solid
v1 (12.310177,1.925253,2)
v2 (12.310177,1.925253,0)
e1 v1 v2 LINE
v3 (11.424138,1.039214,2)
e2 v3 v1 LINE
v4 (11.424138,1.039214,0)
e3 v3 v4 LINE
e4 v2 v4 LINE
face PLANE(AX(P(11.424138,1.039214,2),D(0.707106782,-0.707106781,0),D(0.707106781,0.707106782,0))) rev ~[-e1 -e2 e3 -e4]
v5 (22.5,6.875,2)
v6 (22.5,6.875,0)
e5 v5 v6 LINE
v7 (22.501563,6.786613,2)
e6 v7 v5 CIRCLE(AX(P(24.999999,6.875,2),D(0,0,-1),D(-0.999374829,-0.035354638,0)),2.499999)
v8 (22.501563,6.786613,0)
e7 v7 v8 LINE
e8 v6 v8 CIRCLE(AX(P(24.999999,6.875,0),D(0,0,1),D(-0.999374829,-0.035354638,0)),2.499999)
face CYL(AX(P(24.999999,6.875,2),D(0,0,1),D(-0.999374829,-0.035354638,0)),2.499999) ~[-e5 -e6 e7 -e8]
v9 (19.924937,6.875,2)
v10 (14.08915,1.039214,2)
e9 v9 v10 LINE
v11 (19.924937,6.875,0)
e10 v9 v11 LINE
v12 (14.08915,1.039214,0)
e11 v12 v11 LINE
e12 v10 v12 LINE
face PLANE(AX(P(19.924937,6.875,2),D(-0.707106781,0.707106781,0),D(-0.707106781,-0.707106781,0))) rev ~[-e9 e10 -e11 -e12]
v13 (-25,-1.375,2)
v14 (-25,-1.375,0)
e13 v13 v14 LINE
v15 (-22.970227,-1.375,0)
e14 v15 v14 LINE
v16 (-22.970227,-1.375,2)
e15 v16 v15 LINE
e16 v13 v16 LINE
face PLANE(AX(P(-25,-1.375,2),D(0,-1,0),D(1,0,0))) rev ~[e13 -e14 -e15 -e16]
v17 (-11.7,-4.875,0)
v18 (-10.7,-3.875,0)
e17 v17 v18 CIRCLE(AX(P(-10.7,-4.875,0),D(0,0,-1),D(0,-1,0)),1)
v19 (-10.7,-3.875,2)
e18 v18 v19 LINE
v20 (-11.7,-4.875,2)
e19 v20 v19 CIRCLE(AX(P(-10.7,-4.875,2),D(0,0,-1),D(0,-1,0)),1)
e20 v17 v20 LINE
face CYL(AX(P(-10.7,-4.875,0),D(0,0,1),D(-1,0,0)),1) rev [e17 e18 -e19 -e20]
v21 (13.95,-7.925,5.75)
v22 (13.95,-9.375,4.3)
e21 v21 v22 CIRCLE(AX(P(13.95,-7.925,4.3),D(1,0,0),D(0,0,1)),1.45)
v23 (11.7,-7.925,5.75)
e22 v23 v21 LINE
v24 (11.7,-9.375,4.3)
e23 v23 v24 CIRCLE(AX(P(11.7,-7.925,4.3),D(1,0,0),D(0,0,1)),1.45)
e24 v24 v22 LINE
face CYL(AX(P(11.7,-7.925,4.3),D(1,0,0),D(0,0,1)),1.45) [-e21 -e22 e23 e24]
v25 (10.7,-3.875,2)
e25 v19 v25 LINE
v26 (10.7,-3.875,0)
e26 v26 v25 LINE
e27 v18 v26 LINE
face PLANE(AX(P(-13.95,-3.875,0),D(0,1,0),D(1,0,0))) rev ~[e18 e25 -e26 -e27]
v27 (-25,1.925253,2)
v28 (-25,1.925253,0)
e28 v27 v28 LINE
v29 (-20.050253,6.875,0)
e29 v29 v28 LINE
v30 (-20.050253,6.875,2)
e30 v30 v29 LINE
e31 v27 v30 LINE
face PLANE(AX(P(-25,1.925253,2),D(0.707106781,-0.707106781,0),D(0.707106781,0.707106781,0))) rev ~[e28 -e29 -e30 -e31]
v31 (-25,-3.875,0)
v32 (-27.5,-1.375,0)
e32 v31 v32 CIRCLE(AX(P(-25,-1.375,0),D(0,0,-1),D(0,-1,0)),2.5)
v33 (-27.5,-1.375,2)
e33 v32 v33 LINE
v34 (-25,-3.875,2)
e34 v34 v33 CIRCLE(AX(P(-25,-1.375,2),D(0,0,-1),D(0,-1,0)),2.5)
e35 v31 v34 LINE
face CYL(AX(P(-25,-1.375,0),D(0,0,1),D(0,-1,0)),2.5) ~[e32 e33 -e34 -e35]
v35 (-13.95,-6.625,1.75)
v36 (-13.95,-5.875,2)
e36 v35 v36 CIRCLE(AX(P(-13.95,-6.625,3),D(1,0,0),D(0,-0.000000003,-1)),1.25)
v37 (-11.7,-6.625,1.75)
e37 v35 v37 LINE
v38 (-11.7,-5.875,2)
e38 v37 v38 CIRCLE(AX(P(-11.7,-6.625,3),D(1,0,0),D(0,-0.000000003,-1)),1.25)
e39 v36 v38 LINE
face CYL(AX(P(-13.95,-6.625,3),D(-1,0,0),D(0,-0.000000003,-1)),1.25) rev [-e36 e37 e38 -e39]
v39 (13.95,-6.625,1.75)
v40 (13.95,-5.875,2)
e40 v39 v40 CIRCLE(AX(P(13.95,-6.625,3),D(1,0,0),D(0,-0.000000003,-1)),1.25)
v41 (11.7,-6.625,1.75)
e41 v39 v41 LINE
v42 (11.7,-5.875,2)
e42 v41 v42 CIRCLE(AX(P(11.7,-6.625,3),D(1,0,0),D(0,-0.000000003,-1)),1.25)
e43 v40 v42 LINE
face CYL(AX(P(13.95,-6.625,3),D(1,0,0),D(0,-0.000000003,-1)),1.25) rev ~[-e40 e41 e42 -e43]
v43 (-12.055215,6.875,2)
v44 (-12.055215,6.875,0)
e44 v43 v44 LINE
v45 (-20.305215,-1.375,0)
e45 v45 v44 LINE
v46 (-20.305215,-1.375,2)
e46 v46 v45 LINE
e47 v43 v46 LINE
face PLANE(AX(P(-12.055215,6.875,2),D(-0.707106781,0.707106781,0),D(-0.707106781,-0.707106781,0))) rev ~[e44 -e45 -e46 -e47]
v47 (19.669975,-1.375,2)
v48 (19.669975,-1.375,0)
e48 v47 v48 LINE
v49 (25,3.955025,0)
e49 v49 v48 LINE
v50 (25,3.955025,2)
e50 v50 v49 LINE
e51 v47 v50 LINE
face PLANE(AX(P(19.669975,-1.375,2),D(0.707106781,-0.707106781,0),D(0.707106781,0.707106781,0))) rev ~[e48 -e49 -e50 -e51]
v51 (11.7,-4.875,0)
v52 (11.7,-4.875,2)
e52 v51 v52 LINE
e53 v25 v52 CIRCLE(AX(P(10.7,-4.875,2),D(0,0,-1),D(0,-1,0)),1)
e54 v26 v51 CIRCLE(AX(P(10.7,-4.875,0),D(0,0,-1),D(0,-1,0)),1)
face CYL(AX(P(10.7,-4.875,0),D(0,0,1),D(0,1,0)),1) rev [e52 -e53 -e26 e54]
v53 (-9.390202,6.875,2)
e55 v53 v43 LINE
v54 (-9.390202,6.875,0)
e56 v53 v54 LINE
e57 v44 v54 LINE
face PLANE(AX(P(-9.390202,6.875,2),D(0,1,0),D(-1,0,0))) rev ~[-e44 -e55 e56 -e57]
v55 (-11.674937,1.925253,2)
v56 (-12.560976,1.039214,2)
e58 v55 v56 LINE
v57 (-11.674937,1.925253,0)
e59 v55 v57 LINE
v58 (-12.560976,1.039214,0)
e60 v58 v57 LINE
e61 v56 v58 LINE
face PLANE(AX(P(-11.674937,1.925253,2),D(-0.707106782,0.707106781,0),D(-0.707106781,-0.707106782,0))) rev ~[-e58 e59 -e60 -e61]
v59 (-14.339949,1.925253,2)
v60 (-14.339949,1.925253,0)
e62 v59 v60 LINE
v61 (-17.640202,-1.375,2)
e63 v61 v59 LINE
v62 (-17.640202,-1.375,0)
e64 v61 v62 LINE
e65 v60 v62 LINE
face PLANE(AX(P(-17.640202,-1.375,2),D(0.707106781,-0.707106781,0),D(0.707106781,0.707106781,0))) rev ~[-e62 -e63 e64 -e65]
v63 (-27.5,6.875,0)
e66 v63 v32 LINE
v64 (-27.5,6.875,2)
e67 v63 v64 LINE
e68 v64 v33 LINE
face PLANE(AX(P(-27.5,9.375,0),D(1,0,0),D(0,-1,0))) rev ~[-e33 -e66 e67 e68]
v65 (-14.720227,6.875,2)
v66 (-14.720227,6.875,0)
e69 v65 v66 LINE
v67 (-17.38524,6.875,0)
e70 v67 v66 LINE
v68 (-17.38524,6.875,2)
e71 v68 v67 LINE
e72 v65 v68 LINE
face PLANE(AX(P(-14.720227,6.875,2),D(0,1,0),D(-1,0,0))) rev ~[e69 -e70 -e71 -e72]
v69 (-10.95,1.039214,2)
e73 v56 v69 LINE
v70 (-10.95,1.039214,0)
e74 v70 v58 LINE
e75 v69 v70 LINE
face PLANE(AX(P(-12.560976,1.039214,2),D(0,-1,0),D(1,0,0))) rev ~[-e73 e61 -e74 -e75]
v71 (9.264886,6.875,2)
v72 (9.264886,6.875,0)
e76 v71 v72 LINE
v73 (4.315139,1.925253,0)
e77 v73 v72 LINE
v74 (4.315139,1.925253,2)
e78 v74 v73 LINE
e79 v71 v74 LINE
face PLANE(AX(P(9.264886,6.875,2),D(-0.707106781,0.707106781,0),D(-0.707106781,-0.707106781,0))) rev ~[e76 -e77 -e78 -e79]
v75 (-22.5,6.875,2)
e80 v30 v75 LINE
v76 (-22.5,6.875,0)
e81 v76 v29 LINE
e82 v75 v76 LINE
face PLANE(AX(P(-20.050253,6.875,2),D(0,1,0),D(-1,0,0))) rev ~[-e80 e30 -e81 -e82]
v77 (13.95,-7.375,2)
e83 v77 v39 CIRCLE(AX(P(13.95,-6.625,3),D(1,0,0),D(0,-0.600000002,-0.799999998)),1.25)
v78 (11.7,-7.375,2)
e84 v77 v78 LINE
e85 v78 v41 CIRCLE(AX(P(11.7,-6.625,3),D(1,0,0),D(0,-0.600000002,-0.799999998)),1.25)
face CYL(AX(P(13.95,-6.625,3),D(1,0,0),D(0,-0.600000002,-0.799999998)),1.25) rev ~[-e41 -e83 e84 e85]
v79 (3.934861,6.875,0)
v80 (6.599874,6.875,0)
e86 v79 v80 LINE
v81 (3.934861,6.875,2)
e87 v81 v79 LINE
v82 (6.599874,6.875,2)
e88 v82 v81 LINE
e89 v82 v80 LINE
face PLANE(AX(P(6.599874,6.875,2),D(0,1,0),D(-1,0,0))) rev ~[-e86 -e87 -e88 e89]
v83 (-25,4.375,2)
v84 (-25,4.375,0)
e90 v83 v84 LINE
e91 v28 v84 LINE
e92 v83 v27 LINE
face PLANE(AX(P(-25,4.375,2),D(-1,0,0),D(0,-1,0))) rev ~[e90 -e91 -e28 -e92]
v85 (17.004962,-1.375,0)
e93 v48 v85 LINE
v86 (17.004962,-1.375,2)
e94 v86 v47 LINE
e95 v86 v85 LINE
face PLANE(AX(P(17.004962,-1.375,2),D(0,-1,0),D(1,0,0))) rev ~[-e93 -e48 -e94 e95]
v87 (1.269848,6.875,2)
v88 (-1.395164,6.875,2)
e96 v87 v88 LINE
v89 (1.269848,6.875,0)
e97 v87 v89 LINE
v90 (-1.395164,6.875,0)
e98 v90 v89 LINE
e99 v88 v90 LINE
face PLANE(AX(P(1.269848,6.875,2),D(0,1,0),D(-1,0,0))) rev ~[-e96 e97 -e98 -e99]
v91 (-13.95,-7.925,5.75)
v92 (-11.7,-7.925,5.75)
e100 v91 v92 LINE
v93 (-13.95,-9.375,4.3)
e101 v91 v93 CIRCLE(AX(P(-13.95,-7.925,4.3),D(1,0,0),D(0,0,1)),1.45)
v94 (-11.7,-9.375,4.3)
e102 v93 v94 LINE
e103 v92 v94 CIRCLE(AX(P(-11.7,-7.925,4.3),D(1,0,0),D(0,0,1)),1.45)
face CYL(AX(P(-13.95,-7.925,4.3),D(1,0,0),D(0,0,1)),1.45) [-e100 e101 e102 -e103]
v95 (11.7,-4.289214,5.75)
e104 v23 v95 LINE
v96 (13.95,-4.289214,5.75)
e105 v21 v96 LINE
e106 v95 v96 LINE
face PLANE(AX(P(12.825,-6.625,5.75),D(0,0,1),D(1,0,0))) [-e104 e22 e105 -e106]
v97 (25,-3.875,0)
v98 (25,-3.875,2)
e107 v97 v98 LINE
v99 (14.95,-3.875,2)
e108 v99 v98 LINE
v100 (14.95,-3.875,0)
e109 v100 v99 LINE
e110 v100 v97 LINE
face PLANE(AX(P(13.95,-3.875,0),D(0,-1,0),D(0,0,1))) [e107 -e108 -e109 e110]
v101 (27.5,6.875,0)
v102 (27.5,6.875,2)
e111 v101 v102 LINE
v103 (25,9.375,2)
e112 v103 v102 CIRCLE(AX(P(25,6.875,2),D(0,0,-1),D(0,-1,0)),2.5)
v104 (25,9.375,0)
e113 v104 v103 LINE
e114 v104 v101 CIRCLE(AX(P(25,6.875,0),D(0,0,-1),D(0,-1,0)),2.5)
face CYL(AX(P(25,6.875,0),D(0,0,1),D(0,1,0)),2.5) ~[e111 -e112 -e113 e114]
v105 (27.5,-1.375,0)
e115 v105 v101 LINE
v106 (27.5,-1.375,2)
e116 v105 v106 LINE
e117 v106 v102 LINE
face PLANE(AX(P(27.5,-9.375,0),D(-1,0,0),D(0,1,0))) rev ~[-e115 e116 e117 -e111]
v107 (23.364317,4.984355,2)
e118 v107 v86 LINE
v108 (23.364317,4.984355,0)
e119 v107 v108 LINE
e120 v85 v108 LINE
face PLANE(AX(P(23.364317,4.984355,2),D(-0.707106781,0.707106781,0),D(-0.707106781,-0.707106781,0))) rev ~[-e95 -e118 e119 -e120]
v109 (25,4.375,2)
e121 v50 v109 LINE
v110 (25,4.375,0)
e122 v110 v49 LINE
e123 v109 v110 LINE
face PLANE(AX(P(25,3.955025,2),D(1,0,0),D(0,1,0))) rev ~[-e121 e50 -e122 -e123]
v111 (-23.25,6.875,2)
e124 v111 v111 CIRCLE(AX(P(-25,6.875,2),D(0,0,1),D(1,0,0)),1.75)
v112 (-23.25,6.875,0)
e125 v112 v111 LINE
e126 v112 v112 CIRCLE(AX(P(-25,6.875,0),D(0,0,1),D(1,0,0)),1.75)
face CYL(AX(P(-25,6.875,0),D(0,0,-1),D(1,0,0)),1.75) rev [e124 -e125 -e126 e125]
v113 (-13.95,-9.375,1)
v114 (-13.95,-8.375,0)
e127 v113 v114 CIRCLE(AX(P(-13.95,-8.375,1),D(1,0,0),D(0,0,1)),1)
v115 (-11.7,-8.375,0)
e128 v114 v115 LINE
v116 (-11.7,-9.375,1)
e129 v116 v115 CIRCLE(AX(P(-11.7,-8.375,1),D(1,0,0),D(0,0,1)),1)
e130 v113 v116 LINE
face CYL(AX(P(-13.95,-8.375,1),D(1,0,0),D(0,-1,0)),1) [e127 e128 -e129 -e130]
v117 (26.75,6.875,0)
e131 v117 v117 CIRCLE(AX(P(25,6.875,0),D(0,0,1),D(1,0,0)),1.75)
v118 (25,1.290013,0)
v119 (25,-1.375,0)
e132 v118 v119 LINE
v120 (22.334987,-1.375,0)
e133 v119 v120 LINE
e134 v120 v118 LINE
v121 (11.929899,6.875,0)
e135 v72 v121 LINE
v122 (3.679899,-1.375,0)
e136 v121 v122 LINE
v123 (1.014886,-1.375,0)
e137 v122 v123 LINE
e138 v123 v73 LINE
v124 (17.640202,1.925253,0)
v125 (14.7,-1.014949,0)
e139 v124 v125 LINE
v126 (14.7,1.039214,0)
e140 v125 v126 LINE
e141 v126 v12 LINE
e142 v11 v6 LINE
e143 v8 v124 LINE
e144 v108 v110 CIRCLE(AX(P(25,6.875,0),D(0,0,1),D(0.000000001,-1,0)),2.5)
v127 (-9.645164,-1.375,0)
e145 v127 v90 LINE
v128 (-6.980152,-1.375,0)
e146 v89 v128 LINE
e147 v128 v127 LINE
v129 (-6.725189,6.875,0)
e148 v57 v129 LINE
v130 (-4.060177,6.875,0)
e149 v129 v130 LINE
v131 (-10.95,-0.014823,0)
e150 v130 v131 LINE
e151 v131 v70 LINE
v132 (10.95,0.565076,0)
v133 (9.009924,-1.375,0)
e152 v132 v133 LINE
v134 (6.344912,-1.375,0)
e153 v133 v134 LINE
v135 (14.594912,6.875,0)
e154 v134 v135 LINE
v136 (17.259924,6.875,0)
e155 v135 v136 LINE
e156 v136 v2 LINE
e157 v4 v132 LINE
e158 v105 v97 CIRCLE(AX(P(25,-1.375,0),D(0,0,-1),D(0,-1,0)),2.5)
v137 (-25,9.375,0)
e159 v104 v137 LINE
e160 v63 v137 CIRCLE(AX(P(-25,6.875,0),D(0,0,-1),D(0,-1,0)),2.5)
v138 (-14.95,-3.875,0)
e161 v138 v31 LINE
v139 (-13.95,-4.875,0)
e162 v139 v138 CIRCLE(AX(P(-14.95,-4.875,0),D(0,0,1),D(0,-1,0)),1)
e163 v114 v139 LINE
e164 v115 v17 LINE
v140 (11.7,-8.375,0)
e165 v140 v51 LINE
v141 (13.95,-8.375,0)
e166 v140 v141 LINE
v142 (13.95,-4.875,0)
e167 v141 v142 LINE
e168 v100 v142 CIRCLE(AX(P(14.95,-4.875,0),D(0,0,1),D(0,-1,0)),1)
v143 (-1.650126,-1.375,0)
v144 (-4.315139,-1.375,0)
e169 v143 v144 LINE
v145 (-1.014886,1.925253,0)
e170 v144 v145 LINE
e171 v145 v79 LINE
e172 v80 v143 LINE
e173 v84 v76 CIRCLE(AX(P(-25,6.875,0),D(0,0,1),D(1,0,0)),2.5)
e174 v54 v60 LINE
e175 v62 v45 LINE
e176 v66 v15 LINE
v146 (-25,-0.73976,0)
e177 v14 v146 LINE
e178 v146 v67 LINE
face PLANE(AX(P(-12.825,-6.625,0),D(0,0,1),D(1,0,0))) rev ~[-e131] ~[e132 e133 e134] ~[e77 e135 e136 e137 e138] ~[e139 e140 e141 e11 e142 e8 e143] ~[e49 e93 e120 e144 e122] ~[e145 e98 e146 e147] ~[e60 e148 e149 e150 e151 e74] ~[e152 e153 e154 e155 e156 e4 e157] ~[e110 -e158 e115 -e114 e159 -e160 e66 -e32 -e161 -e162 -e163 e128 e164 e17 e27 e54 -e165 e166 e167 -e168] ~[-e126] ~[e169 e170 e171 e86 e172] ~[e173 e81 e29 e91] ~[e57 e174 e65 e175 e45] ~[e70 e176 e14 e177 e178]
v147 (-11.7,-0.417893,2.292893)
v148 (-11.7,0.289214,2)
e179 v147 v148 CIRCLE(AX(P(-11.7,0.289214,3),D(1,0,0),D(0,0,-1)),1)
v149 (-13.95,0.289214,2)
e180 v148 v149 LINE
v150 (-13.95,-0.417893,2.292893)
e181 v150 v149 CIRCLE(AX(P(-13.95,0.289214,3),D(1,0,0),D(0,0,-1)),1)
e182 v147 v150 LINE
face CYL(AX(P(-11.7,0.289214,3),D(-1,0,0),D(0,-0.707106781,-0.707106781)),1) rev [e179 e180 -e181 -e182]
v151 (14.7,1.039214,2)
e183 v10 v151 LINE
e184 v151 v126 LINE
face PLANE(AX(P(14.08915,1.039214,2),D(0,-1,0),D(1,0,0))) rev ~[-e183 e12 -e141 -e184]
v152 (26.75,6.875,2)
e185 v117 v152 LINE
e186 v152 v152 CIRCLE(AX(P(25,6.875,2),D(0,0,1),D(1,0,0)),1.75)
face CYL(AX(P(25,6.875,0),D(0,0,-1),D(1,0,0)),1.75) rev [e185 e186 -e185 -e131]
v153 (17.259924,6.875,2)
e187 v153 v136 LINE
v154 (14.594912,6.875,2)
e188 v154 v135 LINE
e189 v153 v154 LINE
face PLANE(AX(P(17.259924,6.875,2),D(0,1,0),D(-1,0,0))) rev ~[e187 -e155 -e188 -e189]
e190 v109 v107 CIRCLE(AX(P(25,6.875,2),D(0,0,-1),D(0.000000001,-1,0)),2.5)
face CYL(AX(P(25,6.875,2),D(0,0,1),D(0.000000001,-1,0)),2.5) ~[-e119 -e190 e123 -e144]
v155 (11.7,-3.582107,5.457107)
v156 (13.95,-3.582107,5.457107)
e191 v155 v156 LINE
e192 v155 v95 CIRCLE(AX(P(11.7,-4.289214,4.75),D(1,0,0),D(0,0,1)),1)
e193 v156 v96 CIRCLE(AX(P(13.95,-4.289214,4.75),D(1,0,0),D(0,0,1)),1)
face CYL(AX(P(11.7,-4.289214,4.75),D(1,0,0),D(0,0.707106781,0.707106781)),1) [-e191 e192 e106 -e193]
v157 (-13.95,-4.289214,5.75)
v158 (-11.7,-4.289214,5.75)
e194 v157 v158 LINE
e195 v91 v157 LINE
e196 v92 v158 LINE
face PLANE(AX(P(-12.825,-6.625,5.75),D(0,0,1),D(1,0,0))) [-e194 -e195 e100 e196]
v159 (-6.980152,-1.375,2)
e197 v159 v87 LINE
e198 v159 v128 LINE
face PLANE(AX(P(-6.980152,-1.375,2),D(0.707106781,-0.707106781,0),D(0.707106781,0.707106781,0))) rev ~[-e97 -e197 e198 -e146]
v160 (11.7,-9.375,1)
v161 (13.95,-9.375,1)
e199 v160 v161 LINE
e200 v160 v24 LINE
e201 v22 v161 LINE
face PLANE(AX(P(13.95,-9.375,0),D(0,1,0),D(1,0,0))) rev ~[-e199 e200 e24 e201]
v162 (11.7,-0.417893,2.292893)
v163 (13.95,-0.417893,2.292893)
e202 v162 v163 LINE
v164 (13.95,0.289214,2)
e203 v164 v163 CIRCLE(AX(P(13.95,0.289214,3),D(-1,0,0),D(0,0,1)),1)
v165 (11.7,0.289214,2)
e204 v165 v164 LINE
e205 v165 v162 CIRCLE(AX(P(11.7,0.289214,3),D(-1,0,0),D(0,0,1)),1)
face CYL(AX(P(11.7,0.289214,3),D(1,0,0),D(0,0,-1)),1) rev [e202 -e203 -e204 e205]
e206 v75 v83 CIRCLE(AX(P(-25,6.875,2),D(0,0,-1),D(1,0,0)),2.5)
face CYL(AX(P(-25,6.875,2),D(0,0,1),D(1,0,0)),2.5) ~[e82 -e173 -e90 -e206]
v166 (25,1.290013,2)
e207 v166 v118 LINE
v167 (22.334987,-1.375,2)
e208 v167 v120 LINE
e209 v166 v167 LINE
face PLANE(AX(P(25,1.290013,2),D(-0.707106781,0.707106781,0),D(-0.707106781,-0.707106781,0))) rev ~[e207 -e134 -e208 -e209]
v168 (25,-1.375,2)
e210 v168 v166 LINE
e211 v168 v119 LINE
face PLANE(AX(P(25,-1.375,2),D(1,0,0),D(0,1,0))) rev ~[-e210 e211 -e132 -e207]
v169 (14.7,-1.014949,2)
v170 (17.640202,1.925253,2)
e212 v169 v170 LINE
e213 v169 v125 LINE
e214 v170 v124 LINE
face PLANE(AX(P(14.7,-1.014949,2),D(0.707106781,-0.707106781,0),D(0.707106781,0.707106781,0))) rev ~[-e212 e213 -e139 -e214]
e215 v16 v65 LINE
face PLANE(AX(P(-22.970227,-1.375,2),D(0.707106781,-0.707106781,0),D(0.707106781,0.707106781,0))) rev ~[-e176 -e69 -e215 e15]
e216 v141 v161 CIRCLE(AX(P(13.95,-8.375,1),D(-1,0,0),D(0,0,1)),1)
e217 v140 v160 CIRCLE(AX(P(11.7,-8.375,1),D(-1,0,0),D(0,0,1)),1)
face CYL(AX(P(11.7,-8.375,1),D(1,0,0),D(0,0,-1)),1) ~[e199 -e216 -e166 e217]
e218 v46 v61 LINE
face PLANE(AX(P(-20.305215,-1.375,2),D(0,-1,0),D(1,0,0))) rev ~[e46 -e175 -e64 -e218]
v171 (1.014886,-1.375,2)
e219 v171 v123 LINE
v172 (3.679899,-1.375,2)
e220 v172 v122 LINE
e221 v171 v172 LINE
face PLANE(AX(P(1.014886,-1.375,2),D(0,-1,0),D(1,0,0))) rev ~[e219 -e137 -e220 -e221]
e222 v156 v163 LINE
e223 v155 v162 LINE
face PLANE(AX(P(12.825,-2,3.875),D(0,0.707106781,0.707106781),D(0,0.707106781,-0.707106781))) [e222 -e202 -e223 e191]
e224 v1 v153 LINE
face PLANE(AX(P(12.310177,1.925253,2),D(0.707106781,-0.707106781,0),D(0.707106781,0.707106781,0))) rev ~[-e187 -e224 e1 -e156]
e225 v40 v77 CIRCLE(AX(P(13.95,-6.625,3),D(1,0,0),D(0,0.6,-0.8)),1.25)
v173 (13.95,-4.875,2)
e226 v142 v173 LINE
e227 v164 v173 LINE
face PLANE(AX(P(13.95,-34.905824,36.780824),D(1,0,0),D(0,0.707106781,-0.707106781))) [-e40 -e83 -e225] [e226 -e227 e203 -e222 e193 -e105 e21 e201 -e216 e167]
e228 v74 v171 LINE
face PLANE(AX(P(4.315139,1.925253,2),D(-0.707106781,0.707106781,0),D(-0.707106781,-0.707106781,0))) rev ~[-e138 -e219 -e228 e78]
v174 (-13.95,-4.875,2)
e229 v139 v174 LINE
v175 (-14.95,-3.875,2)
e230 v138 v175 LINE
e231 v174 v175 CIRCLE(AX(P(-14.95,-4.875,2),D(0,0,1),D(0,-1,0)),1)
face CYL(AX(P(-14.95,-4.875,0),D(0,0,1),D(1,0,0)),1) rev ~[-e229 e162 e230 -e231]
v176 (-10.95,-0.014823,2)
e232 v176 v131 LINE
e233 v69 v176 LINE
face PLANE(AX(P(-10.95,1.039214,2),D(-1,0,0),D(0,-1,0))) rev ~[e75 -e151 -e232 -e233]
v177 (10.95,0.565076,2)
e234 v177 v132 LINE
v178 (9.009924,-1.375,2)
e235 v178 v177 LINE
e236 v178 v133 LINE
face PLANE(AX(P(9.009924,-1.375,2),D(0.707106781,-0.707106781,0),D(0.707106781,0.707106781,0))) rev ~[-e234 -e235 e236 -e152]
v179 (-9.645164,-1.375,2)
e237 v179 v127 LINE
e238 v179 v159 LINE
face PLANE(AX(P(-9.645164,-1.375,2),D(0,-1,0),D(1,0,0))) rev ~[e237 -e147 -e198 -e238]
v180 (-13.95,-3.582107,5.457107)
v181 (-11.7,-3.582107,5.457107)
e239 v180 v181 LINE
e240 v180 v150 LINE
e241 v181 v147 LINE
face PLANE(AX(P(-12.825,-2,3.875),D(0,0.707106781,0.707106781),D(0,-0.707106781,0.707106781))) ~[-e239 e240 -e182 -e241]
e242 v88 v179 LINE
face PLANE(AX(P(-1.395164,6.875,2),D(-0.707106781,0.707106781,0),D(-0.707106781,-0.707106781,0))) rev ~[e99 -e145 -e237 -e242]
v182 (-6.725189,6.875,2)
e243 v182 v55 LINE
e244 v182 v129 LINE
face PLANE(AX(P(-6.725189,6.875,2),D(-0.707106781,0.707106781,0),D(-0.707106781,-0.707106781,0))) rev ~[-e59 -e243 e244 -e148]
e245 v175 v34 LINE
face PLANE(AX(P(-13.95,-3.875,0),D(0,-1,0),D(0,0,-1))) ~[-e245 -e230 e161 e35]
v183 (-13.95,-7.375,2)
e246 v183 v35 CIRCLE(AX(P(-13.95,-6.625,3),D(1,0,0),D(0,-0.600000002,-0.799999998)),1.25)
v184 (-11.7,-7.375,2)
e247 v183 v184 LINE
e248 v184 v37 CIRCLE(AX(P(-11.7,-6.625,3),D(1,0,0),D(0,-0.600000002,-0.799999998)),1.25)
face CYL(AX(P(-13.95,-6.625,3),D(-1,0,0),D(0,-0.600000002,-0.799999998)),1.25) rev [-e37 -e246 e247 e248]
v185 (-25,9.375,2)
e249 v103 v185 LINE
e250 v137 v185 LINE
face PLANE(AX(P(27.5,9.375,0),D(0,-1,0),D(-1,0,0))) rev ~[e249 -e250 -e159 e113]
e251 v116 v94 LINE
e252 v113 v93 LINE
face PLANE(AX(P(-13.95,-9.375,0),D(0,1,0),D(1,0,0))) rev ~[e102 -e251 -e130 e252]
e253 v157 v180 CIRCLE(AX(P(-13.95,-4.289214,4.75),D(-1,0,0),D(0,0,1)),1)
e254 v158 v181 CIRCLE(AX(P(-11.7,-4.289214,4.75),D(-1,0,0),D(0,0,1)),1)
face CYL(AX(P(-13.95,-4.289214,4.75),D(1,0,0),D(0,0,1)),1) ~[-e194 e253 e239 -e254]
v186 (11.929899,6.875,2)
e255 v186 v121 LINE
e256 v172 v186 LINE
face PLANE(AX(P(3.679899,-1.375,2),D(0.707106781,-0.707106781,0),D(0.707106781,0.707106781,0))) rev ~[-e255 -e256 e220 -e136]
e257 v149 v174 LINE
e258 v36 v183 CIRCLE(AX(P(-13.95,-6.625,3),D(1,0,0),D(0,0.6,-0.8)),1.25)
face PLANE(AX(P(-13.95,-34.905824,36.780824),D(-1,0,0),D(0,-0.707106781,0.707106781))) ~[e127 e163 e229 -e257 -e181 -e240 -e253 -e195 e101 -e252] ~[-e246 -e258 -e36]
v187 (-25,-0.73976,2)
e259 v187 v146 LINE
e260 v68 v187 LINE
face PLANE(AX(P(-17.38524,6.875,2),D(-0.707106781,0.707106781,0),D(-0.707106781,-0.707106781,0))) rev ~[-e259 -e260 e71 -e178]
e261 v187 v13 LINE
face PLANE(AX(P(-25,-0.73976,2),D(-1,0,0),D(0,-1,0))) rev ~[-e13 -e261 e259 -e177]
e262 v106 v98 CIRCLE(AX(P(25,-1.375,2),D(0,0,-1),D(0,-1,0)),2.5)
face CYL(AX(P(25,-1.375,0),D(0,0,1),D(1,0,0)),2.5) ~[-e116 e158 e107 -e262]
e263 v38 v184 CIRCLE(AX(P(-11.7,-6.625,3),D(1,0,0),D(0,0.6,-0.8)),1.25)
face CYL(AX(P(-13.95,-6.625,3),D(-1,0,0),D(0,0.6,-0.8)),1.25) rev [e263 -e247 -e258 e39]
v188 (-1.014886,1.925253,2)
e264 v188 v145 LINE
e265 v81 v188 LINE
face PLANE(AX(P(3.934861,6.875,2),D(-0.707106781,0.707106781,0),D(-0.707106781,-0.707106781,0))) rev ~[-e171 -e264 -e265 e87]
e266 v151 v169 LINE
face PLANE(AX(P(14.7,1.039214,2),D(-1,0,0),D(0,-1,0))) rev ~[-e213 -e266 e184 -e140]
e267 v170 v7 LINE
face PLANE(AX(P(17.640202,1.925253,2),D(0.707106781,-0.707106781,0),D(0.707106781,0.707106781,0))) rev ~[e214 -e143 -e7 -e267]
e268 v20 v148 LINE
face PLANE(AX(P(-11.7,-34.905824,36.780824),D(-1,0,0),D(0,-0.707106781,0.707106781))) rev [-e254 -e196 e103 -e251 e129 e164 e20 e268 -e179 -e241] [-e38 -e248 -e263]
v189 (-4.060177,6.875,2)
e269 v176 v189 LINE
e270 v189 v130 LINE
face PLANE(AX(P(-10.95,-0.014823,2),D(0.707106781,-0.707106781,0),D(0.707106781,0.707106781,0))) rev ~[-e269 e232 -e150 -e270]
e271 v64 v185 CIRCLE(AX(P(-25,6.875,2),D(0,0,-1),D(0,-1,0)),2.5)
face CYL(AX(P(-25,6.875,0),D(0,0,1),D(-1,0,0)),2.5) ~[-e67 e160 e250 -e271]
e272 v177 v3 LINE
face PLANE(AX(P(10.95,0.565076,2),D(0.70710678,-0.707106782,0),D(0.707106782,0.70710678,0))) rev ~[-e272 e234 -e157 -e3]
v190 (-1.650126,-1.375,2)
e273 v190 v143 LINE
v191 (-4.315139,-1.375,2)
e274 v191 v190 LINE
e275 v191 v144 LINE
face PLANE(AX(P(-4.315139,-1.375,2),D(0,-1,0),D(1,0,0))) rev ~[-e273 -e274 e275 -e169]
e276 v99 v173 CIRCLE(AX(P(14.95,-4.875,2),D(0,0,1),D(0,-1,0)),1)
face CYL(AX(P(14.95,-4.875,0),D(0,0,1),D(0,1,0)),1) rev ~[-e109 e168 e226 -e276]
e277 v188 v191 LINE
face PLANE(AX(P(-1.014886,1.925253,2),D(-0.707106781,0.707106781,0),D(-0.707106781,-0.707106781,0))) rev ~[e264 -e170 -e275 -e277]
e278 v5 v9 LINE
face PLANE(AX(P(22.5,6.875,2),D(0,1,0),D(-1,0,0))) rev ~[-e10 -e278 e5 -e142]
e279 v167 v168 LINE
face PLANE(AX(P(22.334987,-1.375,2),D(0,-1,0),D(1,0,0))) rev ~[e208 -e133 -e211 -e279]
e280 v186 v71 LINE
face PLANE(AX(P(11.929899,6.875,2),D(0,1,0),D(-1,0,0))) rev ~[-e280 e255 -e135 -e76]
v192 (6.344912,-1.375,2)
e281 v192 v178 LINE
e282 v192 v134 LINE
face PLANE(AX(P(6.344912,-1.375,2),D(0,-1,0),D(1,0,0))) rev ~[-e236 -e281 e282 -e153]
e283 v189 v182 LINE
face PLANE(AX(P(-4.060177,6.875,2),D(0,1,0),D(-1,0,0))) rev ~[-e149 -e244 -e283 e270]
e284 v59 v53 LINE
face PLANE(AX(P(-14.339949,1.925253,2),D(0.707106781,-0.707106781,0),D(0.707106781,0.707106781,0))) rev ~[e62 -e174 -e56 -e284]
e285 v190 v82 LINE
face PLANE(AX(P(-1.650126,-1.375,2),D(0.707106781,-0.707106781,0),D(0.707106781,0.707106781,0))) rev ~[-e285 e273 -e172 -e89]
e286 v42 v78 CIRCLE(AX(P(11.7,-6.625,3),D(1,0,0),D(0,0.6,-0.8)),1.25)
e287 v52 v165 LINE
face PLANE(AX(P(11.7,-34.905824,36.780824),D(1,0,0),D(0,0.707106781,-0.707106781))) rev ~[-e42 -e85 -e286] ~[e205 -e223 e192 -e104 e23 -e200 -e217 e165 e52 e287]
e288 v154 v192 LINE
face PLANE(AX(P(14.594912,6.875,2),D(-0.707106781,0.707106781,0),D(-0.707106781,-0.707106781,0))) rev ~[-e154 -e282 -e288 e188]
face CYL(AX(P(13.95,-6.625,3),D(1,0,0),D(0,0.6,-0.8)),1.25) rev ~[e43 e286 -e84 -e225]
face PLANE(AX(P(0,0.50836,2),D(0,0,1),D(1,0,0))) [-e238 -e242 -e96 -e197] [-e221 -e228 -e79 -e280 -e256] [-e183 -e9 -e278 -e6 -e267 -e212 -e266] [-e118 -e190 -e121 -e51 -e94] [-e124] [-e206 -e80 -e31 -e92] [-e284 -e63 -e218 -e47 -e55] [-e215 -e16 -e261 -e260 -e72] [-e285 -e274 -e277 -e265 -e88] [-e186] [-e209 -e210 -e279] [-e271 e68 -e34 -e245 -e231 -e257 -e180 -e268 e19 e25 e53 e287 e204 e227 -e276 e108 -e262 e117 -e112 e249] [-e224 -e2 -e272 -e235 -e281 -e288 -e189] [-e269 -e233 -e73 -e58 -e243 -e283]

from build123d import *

# Parameters (mm, degrees)
ESQUISSE1_R             = 1.75
BOSS_EXTRU_1_DEPTH      = 2
ESQUISSE1_3_W           = 2.25
ESQUISSE1_3_H           = 5.5
BOSS_EXTRU_3_DEPTH      = 5.75
ESQUISSE2_R             = 1.25
ESQUISSE2_W             = 3.75
ESQUISSE2_H             = 5.5
ENL_V_MAT_EXTRU_4_DEPTH = 13.55
ENL_V_MAT_EXTRU_5_REACH = 44.884
NERVURE1_REACH          = 44.884
ESQUISSE4_WALL_W        = 93.071724536
ESQUISSE4_WALL_H        = 2.25
CONG_1_R                = 1.45
CONG_2_R                = 1
ENL_V_MAT_EXTRU_6_REACH = 31.295
CONG_4_R                = 2.5


with BuildPart() as part:
    # Esquisse1 → Boss.-Extru.1 (new body)
    with BuildSketch(Plane.XY):
        Polygon((27.5, 9.375), (-27.5, 9.375), (-27.5, -9.375), (-13.95, -9.375), (-13.95, -3.875), (13.95, -3.875), (13.95, -9.375), (27.5, -9.375), align=None)
        with Locations((-25, 6.875)):
            Circle(ESQUISSE1_R, mode=Mode.SUBTRACT)
        with Locations((25, 6.875)):
            Circle(ESQUISSE1_R, mode=Mode.SUBTRACT)
    extrude(amount=BOSS_EXTRU_1_DEPTH)

    # Esquisse1_3 → Boss.-Extru.3 (add)
    with BuildSketch(Plane.XY):
        with Locations((-12.825, -6.625)):
            Rectangle(ESQUISSE1_3_W, ESQUISSE1_3_H)
        with Locations((12.825, -6.625)):
            Rectangle(ESQUISSE1_3_W, ESQUISSE1_3_H)
    extrude(amount=BOSS_EXTRU_3_DEPTH)

    # Esquisse2 → Enl_v. mat.-Extru.4 (cut)
    with BuildSketch(Plane(origin=(13.95, 0, 0), x_dir=(0, 0, -1), z_dir=(1, 0, 0))):
        with BuildLine():
            Line((-2, -5.875), (-2, -7.375))
            ThreePointArc((-2, -7.375), (-1.814145877, -7.020284708), (-1.75, -6.625))
            ThreePointArc((-1.75, -6.625), (-1.814145877, -6.229715292), (-2, -5.875))
        make_face()
        with BuildLine():
            ThreePointArc((-2, -5.875), (-4.25, -6.625), (-2, -7.375))
            Line((-2, -7.375), (-2, -5.875))
        make_face()
        with Locations((-3, -6.625)):
            Circle(ESQUISSE2_R)
        with Locations((-3.875, -6.625)):
            Rectangle(ESQUISSE2_W, ESQUISSE2_H)
        with BuildLine():
            Line((-2, -7.375), (-2, -9.375))
            Line((-2, -9.375), (0, -9.375))
            Line((0, -9.375), (0, -3.875))
            Line((0, -3.875), (-2, -3.875))
            Line((-2, -3.875), (-2, -5.875))
            ThreePointArc((-2, -5.875), (-1.814145877, -6.229715292), (-1.75, -6.625))
            ThreePointArc((-1.75, -6.625), (-1.814145877, -7.020284708), (-2, -7.375))
        make_face()
    enl_v_mat_extru_4 = extrude(amount=ENL_V_MAT_EXTRU_4_DEPTH, mode=Mode.SUBTRACT)

    # Esquisse2_5 → Enl_v. mat.-Extru.5 (cut, up to next)
    with BuildSketch(Plane(origin=(13.95, 0, 0), x_dir=(0, 0, -1), z_dir=(1, 0, 0)), mode=Mode.PRIVATE) as enl_v_mat_extru_5_sk1:
        with BuildLine():
            Line((-2, -5.875), (-2, -7.375))
            ThreePointArc((-2, -7.375), (-1.814145877, -7.020284708), (-1.75, -6.625))
            ThreePointArc((-1.75, -6.625), (-1.814145877, -6.229715292), (-2, -5.875))
        make_face()
    enl_v_mat_extru_5_tool1 = extrude(enl_v_mat_extru_5_sk1.sketch, amount=-ENL_V_MAT_EXTRU_5_REACH, mode=Mode.PRIVATE) & part.part
    # Esquisse2_5 → Enl_v. mat.-Extru.5 (cut, up to next)
    with BuildSketch(Plane(origin=(13.95, 0, 0), x_dir=(0, 0, -1), z_dir=(1, 0, 0)), mode=Mode.PRIVATE) as enl_v_mat_extru_5_sk2:
        with BuildLine():
            ThreePointArc((-2, -5.875), (-4.25, -6.625), (-2, -7.375))
            Line((-2, -7.375), (-2, -5.875))
        make_face()
    enl_v_mat_extru_5_tool2 = extrude(enl_v_mat_extru_5_sk2.sketch, amount=-ENL_V_MAT_EXTRU_5_REACH, mode=Mode.PRIVATE) & part.part
    # Esquisse2_5 → Enl_v. mat.-Extru.5 (cut, up to next)
    with BuildSketch(Plane(origin=(13.95, 0, 0), x_dir=(0, 0, -1), z_dir=(1, 0, 0)), mode=Mode.PRIVATE) as enl_v_mat_extru_5_sk3:
        with BuildLine():
            Line((-2, -5.875), (-2, -7.375))
            ThreePointArc((-2, -7.375), (-1.814145877, -7.020284708), (-1.75, -6.625))
            ThreePointArc((-1.75, -6.625), (-1.814145877, -6.229715292), (-2, -5.875))
        make_face()
    enl_v_mat_extru_5_tool3 = extrude(enl_v_mat_extru_5_sk3.sketch, amount=-ENL_V_MAT_EXTRU_5_REACH, mode=Mode.PRIVATE) & part.part
    # Esquisse2_5 → Enl_v. mat.-Extru.5 (cut, up to next)
    with BuildSketch(Plane(origin=(13.95, 0, 0), x_dir=(0, 0, -1), z_dir=(1, 0, 0)), mode=Mode.PRIVATE) as enl_v_mat_extru_5_sk4:
        with BuildLine():
            ThreePointArc((-2, -5.875), (-4.25, -6.625), (-2, -7.375))
            Line((-2, -7.375), (-2, -5.875))
        make_face()
    enl_v_mat_extru_5_tool4 = extrude(enl_v_mat_extru_5_sk4.sketch, amount=-ENL_V_MAT_EXTRU_5_REACH, mode=Mode.PRIVATE) & part.part
    enl_v_mat_extru_5_1 = enl_v_mat_extru_5_tool1.solids().sort_by_distance((13.95, -6.625, 1.89909))[0]
    add(enl_v_mat_extru_5_1, mode=Mode.SUBTRACT)
    enl_v_mat_extru_5_2 = enl_v_mat_extru_5_tool2.solids().sort_by_distance((13.95, -6.625, 3.060441))[0]
    add(enl_v_mat_extru_5_2, mode=Mode.SUBTRACT)
    enl_v_mat_extru_5_3 = enl_v_mat_extru_5_tool3.solids().sort_by_distance((13.95, -6.625, 1.89909))[0]
    add(enl_v_mat_extru_5_3, mode=Mode.SUBTRACT)
    enl_v_mat_extru_5_4 = enl_v_mat_extru_5_tool4.solids().sort_by_distance((13.95, -6.625, 3.060441))[0]
    add(enl_v_mat_extru_5_4, mode=Mode.SUBTRACT)
    enl_v_mat_extru_5 = enl_v_mat_extru_5_1 + enl_v_mat_extru_5_2 + enl_v_mat_extru_5_3 + enl_v_mat_extru_5_4  # Enl_v. mat.-Extru.5 as one shape, for the pattern or mirror that repeats it

    # Esquisse4 wall → Nervure1 (add, up to next)
    with BuildSketch(Plane(origin=(13.95, -2, 3.875), x_dir=(0, 0.707106781187, -0.707106781187), z_dir=(0, 0.707106781187, 0.707106781187)), mode=Mode.PRIVATE) as nervure1_sk1:
        with Locations((0, 1.125)):
            Rectangle(ESQUISSE4_WALL_W, ESQUISSE4_WALL_H)
    nervure1_tool1 = extrude(nervure1_sk1.sketch, amount=-NERVURE1_REACH, mode=Mode.PRIVATE) - part.part
    nervure1 = nervure1_tool1.solids().sort_by_distance((13.95, -2, 3.875))[0]
    add(nervure1)

    # Sym_trie2: Enl_v. mat.-Extru.4, Enl_v. mat.-Extru.5, Nervure1 across plane
    add(enl_v_mat_extru_4.mirror(Plane(origin=(0, 0, 0), x_dir=(0, 0, 1), z_dir=(1, 0, 0))), mode=Mode.SUBTRACT)
    add(enl_v_mat_extru_5.mirror(Plane(origin=(0, 0, 0), x_dir=(0, 0, 1), z_dir=(1, 0, 0))), mode=Mode.SUBTRACT)
    add(nervure1.mirror(Plane(origin=(0, 0, 0), x_dir=(0, 0, 1), z_dir=(1, 0, 0))))

    # Cong_1
    cong_1_edges = [part.edges().sort_by_distance(p)[0] for p in [
        (-12.825, -9.375, 5.75),
        (12.825, -9.375, 5.75),
    ]]
    fillet(cong_1_edges, radius=CONG_1_R)

    # Cong_2
    cong_2_edges = [part.edges().sort_by_distance(p)[0] for p in [
        (-12.825, -9.375, 0),
        (-13.95, -3.875, 1),
        (-12.825, -0.125, 2),
        (12.825, -9.375, 0),
        (-11.7, -3.875, 1),
        (-12.825, -3.875, 5.75),
        (12.825, -3.875, 5.75),
        (11.7, -3.875, 1),
        (13.95, -3.875, 1),
        (12.825, -0.125, 2),
    ]]
    fillet(cong_2_edges, radius=CONG_2_R)

    # Esquisse5 → Enl_v. mat.-Extru.6 (cut, up to next)
    with BuildSketch(Plane.XY.offset(2), mode=Mode.PRIVATE) as enl_v_mat_extru_6_sk1:
        with BuildLine():
            Line((-20.050252532, 6.875), (-22.5, 6.875))
            ThreePointArc((-22.5, 6.875), (-23.232233047, 5.107233047), (-25, 4.375))
            Line((-25, 4.375), (-25, 1.925252532))
            Line((-25, 1.925252532), (-20.050252532, 6.875))
        make_face()
    enl_v_mat_extru_6_tool1 = extrude(enl_v_mat_extru_6_sk1.sketch, amount=-ENL_V_MAT_EXTRU_6_REACH, mode=Mode.PRIVATE) & part.part
    # Esquisse5 → Enl_v. mat.-Extru.6 (cut, up to next)
    with BuildSketch(Plane.XY.offset(2), mode=Mode.PRIVATE) as enl_v_mat_extru_6_sk2:
        Polygon((-14.720227279, 6.875), (-17.385239905, 6.875), (-22.334987373, 1.925252532), (-25, -0.739760095), (-25, -1.375), (-22.970227279, -1.375), (-19.669974747, 1.925252532), align=None)
    enl_v_mat_extru_6_tool2 = extrude(enl_v_mat_extru_6_sk2.sketch, amount=-ENL_V_MAT_EXTRU_6_REACH, mode=Mode.PRIVATE) & part.part
    # Esquisse5 → Enl_v. mat.-Extru.6 (cut, up to next)
    with BuildSketch(Plane.XY.offset(2), mode=Mode.PRIVATE) as enl_v_mat_extru_6_sk3:
        Polygon((-9.390202025, 6.875), (-12.055214652, 6.875), (-17.00496212, 1.925252532), (-20.305214652, -1.375), (-17.640202025, -1.375), (-14.339949494, 1.925252532), align=None)
    enl_v_mat_extru_6_tool3 = extrude(enl_v_mat_extru_6_sk3.sketch, amount=-ENL_V_MAT_EXTRU_6_REACH, mode=Mode.PRIVATE) & part.part
    # Esquisse5 → Enl_v. mat.-Extru.6 (cut, up to next)
    with BuildSketch(Plane.XY.offset(2), mode=Mode.PRIVATE) as enl_v_mat_extru_6_sk4:
        Polygon((-4.060176772, 6.875), (-6.725189399, 6.875), (-11.674936867, 1.925252532), (-12.560975836, 1.039213562), (-10.95, 1.039213562), (-10.95, -0.014823228), (-9.00992424, 1.925252532), align=None)
    enl_v_mat_extru_6_tool4 = extrude(enl_v_mat_extru_6_sk4.sketch, amount=-ENL_V_MAT_EXTRU_6_REACH, mode=Mode.PRIVATE) & part.part
    # Esquisse5 → Enl_v. mat.-Extru.6 (cut, up to next)
    with BuildSketch(Plane.XY.offset(2), mode=Mode.PRIVATE) as enl_v_mat_extru_6_sk5:
        Polygon((1.269848481, 6.875), (-1.395164146, 6.875), (-6.344911614, 1.925252532), (-9.645164146, -1.375), (-6.980151519, -1.375), (-3.679898987, 1.925252532), align=None)
    enl_v_mat_extru_6_tool5 = extrude(enl_v_mat_extru_6_sk5.sketch, amount=-ENL_V_MAT_EXTRU_6_REACH, mode=Mode.PRIVATE) & part.part
    # Esquisse5 → Enl_v. mat.-Extru.6 (cut, up to next)
    with BuildSketch(Plane.XY.offset(2), mode=Mode.PRIVATE) as enl_v_mat_extru_6_sk6:
        Polygon((6.599873734, 6.875), (3.934861108, 6.875), (-1.014886361, 1.925252532), (-4.315138892, -1.375), (-1.650126266, -1.375), (1.650126266, 1.925252532), align=None)
    enl_v_mat_extru_6_tool6 = extrude(enl_v_mat_extru_6_sk6.sketch, amount=-ENL_V_MAT_EXTRU_6_REACH, mode=Mode.PRIVATE) & part.part
    # Esquisse5 → Enl_v. mat.-Extru.6 (cut, up to next)
    with BuildSketch(Plane.XY.offset(2), mode=Mode.PRIVATE) as enl_v_mat_extru_6_sk7:
        Polygon((11.929898987, 6.875), (9.264886361, 6.875), (4.315138892, 1.925252532), (1.014886361, -1.375), (3.679898987, -1.375), (6.980151519, 1.925252532), align=None)
    enl_v_mat_extru_6_tool7 = extrude(enl_v_mat_extru_6_sk7.sketch, amount=-ENL_V_MAT_EXTRU_6_REACH, mode=Mode.PRIVATE) & part.part
    # Esquisse5 → Enl_v. mat.-Extru.6 (cut, up to next)
    with BuildSketch(Plane.XY.offset(2), mode=Mode.PRIVATE) as enl_v_mat_extru_6_sk8:
        Polygon((17.25992424, 6.875), (14.594911614, 6.875), (9.645164146, 1.925252532), (6.344911614, -1.375), (9.00992424, -1.375), (10.95, 0.56507576), (10.95, 1.039213562), (11.424137803, 1.039213562), (12.310176772, 1.925252532), align=None)
    enl_v_mat_extru_6_tool8 = extrude(enl_v_mat_extru_6_sk8.sketch, amount=-ENL_V_MAT_EXTRU_6_REACH, mode=Mode.PRIVATE) & part.part
    # Esquisse5 → Enl_v. mat.-Extru.6 (cut, up to next)
    with BuildSketch(Plane.XY.offset(2), mode=Mode.PRIVATE) as enl_v_mat_extru_6_sk9:
        Polygon((10.95, 0.56507576), (11.424137803, 1.039213562), (10.95, 1.039213562), align=None)
    enl_v_mat_extru_6_tool9 = extrude(enl_v_mat_extru_6_sk9.sketch, amount=-ENL_V_MAT_EXTRU_6_REACH, mode=Mode.PRIVATE) & part.part
    # Esquisse5 → Enl_v. mat.-Extru.6 (cut, up to next)
    with BuildSketch(Plane.XY.offset(2), mode=Mode.PRIVATE) as enl_v_mat_extru_6_sk10:
        with BuildLine():
            Line((22.5, 6.875), (19.924936867, 6.875))
            Line((19.924936867, 6.875), (14.975189399, 1.925252532))
            Line((14.975189399, 1.925252532), (14.089150429, 1.039213562))
            Line((14.089150429, 1.039213562), (14.7, 1.039213562))
            Line((14.7, 1.039213562), (14.7, -1.014949494))
            Line((14.7, -1.014949494), (17.640202025, 1.925252532))
            Line((17.640202025, 1.925252532), (22.501562926, 6.786613432))
            ThreePointArc((22.501562926, 6.786613432), (22.500390762, 6.830799807), (22.5, 6.875))
        make_face()
    enl_v_mat_extru_6_tool10 = extrude(enl_v_mat_extru_6_sk10.sketch, amount=-ENL_V_MAT_EXTRU_6_REACH, mode=Mode.PRIVATE) & part.part
    # Esquisse5 → Enl_v. mat.-Extru.6 (cut, up to next)
    with BuildSketch(Plane.XY.offset(2), mode=Mode.PRIVATE) as enl_v_mat_extru_6_sk11:
        with BuildLine():
            ThreePointArc((25, 4.375), (24.127249624, 4.532286449), (23.364316695, 4.984354575))
            Line((23.364316695, 4.984354575), (20.305214652, 1.925252532))
            Line((20.305214652, 1.925252532), (17.00496212, -1.375))
            Line((17.00496212, -1.375), (19.669974747, -1.375))
            Line((19.669974747, -1.375), (22.970227279, 1.925252532))
            Line((22.970227279, 1.925252532), (25, 3.955025253))
            Line((25, 3.955025253), (25, 4.375))
        make_face()
    enl_v_mat_extru_6_tool11 = extrude(enl_v_mat_extru_6_sk11.sketch, amount=-ENL_V_MAT_EXTRU_6_REACH, mode=Mode.PRIVATE) & part.part
    # Esquisse5 → Enl_v. mat.-Extru.6 (cut, up to next)
    with BuildSketch(Plane.XY.offset(2), mode=Mode.PRIVATE) as enl_v_mat_extru_6_sk12:
        Polygon((25, -1.375), (25, 1.290012627), (22.334987373, -1.375), align=None)
    enl_v_mat_extru_6_tool12 = extrude(enl_v_mat_extru_6_sk12.sketch, amount=-ENL_V_MAT_EXTRU_6_REACH, mode=Mode.PRIVATE) & part.part
    add(enl_v_mat_extru_6_tool1.solids().sort_by_distance((-22.956327, 4.831327, 2))[0], mode=Mode.SUBTRACT)
    add(enl_v_mat_extru_6_tool2.solids().sort_by_distance((-20.131109, 2.786244, 2))[0], mode=Mode.SUBTRACT)
    add(enl_v_mat_extru_6_tool3.solids().sort_by_distance((-14.847708, 2.75, 2))[0], mode=Mode.SUBTRACT)
    add(enl_v_mat_extru_6_tool4.solids().sort_by_distance((-8.389483, 3.844364, 2))[0], mode=Mode.SUBTRACT)
    add(enl_v_mat_extru_6_tool5.solids().sort_by_distance((-4.187658, 2.75, 2))[0], mode=Mode.SUBTRACT)
    add(enl_v_mat_extru_6_tool6.solids().sort_by_distance((1.142367, 2.75, 2))[0], mode=Mode.SUBTRACT)
    add(enl_v_mat_extru_6_tool7.solids().sort_by_distance((6.472393, 2.75, 2))[0], mode=Mode.SUBTRACT)
    add(enl_v_mat_extru_6_tool8.solids().sort_by_distance((11.805986, 2.759603, 2))[0], mode=Mode.SUBTRACT)
    add(enl_v_mat_extru_6_tool9.solids().sort_by_distance((11.108046, 0.881168, 2))[0], mode=Mode.SUBTRACT)
    add(enl_v_mat_extru_6_tool10.solids().sort_by_distance((17.98556, 3.526015, 2))[0], mode=Mode.SUBTRACT)
    add(enl_v_mat_extru_6_tool11.solids().sort_by_distance((21.26436, 1.581944, 2))[0], mode=Mode.SUBTRACT)
    add(enl_v_mat_extru_6_tool12.solids().sort_by_distance((24.111662, -0.486662, 2))[0], mode=Mode.SUBTRACT)

    # Cong_4
    cong_4_edges = [part.edges().sort_by_distance(p)[0] for p in [
        (-27.5, -3.875, 1),
        (-27.5, 9.375, 1),
        (27.5, 9.375, 1),
        (27.5, -3.875, 1),
    ]]
    fillet(cong_4_edges, radius=CONG_4_R)


solid = part.part
